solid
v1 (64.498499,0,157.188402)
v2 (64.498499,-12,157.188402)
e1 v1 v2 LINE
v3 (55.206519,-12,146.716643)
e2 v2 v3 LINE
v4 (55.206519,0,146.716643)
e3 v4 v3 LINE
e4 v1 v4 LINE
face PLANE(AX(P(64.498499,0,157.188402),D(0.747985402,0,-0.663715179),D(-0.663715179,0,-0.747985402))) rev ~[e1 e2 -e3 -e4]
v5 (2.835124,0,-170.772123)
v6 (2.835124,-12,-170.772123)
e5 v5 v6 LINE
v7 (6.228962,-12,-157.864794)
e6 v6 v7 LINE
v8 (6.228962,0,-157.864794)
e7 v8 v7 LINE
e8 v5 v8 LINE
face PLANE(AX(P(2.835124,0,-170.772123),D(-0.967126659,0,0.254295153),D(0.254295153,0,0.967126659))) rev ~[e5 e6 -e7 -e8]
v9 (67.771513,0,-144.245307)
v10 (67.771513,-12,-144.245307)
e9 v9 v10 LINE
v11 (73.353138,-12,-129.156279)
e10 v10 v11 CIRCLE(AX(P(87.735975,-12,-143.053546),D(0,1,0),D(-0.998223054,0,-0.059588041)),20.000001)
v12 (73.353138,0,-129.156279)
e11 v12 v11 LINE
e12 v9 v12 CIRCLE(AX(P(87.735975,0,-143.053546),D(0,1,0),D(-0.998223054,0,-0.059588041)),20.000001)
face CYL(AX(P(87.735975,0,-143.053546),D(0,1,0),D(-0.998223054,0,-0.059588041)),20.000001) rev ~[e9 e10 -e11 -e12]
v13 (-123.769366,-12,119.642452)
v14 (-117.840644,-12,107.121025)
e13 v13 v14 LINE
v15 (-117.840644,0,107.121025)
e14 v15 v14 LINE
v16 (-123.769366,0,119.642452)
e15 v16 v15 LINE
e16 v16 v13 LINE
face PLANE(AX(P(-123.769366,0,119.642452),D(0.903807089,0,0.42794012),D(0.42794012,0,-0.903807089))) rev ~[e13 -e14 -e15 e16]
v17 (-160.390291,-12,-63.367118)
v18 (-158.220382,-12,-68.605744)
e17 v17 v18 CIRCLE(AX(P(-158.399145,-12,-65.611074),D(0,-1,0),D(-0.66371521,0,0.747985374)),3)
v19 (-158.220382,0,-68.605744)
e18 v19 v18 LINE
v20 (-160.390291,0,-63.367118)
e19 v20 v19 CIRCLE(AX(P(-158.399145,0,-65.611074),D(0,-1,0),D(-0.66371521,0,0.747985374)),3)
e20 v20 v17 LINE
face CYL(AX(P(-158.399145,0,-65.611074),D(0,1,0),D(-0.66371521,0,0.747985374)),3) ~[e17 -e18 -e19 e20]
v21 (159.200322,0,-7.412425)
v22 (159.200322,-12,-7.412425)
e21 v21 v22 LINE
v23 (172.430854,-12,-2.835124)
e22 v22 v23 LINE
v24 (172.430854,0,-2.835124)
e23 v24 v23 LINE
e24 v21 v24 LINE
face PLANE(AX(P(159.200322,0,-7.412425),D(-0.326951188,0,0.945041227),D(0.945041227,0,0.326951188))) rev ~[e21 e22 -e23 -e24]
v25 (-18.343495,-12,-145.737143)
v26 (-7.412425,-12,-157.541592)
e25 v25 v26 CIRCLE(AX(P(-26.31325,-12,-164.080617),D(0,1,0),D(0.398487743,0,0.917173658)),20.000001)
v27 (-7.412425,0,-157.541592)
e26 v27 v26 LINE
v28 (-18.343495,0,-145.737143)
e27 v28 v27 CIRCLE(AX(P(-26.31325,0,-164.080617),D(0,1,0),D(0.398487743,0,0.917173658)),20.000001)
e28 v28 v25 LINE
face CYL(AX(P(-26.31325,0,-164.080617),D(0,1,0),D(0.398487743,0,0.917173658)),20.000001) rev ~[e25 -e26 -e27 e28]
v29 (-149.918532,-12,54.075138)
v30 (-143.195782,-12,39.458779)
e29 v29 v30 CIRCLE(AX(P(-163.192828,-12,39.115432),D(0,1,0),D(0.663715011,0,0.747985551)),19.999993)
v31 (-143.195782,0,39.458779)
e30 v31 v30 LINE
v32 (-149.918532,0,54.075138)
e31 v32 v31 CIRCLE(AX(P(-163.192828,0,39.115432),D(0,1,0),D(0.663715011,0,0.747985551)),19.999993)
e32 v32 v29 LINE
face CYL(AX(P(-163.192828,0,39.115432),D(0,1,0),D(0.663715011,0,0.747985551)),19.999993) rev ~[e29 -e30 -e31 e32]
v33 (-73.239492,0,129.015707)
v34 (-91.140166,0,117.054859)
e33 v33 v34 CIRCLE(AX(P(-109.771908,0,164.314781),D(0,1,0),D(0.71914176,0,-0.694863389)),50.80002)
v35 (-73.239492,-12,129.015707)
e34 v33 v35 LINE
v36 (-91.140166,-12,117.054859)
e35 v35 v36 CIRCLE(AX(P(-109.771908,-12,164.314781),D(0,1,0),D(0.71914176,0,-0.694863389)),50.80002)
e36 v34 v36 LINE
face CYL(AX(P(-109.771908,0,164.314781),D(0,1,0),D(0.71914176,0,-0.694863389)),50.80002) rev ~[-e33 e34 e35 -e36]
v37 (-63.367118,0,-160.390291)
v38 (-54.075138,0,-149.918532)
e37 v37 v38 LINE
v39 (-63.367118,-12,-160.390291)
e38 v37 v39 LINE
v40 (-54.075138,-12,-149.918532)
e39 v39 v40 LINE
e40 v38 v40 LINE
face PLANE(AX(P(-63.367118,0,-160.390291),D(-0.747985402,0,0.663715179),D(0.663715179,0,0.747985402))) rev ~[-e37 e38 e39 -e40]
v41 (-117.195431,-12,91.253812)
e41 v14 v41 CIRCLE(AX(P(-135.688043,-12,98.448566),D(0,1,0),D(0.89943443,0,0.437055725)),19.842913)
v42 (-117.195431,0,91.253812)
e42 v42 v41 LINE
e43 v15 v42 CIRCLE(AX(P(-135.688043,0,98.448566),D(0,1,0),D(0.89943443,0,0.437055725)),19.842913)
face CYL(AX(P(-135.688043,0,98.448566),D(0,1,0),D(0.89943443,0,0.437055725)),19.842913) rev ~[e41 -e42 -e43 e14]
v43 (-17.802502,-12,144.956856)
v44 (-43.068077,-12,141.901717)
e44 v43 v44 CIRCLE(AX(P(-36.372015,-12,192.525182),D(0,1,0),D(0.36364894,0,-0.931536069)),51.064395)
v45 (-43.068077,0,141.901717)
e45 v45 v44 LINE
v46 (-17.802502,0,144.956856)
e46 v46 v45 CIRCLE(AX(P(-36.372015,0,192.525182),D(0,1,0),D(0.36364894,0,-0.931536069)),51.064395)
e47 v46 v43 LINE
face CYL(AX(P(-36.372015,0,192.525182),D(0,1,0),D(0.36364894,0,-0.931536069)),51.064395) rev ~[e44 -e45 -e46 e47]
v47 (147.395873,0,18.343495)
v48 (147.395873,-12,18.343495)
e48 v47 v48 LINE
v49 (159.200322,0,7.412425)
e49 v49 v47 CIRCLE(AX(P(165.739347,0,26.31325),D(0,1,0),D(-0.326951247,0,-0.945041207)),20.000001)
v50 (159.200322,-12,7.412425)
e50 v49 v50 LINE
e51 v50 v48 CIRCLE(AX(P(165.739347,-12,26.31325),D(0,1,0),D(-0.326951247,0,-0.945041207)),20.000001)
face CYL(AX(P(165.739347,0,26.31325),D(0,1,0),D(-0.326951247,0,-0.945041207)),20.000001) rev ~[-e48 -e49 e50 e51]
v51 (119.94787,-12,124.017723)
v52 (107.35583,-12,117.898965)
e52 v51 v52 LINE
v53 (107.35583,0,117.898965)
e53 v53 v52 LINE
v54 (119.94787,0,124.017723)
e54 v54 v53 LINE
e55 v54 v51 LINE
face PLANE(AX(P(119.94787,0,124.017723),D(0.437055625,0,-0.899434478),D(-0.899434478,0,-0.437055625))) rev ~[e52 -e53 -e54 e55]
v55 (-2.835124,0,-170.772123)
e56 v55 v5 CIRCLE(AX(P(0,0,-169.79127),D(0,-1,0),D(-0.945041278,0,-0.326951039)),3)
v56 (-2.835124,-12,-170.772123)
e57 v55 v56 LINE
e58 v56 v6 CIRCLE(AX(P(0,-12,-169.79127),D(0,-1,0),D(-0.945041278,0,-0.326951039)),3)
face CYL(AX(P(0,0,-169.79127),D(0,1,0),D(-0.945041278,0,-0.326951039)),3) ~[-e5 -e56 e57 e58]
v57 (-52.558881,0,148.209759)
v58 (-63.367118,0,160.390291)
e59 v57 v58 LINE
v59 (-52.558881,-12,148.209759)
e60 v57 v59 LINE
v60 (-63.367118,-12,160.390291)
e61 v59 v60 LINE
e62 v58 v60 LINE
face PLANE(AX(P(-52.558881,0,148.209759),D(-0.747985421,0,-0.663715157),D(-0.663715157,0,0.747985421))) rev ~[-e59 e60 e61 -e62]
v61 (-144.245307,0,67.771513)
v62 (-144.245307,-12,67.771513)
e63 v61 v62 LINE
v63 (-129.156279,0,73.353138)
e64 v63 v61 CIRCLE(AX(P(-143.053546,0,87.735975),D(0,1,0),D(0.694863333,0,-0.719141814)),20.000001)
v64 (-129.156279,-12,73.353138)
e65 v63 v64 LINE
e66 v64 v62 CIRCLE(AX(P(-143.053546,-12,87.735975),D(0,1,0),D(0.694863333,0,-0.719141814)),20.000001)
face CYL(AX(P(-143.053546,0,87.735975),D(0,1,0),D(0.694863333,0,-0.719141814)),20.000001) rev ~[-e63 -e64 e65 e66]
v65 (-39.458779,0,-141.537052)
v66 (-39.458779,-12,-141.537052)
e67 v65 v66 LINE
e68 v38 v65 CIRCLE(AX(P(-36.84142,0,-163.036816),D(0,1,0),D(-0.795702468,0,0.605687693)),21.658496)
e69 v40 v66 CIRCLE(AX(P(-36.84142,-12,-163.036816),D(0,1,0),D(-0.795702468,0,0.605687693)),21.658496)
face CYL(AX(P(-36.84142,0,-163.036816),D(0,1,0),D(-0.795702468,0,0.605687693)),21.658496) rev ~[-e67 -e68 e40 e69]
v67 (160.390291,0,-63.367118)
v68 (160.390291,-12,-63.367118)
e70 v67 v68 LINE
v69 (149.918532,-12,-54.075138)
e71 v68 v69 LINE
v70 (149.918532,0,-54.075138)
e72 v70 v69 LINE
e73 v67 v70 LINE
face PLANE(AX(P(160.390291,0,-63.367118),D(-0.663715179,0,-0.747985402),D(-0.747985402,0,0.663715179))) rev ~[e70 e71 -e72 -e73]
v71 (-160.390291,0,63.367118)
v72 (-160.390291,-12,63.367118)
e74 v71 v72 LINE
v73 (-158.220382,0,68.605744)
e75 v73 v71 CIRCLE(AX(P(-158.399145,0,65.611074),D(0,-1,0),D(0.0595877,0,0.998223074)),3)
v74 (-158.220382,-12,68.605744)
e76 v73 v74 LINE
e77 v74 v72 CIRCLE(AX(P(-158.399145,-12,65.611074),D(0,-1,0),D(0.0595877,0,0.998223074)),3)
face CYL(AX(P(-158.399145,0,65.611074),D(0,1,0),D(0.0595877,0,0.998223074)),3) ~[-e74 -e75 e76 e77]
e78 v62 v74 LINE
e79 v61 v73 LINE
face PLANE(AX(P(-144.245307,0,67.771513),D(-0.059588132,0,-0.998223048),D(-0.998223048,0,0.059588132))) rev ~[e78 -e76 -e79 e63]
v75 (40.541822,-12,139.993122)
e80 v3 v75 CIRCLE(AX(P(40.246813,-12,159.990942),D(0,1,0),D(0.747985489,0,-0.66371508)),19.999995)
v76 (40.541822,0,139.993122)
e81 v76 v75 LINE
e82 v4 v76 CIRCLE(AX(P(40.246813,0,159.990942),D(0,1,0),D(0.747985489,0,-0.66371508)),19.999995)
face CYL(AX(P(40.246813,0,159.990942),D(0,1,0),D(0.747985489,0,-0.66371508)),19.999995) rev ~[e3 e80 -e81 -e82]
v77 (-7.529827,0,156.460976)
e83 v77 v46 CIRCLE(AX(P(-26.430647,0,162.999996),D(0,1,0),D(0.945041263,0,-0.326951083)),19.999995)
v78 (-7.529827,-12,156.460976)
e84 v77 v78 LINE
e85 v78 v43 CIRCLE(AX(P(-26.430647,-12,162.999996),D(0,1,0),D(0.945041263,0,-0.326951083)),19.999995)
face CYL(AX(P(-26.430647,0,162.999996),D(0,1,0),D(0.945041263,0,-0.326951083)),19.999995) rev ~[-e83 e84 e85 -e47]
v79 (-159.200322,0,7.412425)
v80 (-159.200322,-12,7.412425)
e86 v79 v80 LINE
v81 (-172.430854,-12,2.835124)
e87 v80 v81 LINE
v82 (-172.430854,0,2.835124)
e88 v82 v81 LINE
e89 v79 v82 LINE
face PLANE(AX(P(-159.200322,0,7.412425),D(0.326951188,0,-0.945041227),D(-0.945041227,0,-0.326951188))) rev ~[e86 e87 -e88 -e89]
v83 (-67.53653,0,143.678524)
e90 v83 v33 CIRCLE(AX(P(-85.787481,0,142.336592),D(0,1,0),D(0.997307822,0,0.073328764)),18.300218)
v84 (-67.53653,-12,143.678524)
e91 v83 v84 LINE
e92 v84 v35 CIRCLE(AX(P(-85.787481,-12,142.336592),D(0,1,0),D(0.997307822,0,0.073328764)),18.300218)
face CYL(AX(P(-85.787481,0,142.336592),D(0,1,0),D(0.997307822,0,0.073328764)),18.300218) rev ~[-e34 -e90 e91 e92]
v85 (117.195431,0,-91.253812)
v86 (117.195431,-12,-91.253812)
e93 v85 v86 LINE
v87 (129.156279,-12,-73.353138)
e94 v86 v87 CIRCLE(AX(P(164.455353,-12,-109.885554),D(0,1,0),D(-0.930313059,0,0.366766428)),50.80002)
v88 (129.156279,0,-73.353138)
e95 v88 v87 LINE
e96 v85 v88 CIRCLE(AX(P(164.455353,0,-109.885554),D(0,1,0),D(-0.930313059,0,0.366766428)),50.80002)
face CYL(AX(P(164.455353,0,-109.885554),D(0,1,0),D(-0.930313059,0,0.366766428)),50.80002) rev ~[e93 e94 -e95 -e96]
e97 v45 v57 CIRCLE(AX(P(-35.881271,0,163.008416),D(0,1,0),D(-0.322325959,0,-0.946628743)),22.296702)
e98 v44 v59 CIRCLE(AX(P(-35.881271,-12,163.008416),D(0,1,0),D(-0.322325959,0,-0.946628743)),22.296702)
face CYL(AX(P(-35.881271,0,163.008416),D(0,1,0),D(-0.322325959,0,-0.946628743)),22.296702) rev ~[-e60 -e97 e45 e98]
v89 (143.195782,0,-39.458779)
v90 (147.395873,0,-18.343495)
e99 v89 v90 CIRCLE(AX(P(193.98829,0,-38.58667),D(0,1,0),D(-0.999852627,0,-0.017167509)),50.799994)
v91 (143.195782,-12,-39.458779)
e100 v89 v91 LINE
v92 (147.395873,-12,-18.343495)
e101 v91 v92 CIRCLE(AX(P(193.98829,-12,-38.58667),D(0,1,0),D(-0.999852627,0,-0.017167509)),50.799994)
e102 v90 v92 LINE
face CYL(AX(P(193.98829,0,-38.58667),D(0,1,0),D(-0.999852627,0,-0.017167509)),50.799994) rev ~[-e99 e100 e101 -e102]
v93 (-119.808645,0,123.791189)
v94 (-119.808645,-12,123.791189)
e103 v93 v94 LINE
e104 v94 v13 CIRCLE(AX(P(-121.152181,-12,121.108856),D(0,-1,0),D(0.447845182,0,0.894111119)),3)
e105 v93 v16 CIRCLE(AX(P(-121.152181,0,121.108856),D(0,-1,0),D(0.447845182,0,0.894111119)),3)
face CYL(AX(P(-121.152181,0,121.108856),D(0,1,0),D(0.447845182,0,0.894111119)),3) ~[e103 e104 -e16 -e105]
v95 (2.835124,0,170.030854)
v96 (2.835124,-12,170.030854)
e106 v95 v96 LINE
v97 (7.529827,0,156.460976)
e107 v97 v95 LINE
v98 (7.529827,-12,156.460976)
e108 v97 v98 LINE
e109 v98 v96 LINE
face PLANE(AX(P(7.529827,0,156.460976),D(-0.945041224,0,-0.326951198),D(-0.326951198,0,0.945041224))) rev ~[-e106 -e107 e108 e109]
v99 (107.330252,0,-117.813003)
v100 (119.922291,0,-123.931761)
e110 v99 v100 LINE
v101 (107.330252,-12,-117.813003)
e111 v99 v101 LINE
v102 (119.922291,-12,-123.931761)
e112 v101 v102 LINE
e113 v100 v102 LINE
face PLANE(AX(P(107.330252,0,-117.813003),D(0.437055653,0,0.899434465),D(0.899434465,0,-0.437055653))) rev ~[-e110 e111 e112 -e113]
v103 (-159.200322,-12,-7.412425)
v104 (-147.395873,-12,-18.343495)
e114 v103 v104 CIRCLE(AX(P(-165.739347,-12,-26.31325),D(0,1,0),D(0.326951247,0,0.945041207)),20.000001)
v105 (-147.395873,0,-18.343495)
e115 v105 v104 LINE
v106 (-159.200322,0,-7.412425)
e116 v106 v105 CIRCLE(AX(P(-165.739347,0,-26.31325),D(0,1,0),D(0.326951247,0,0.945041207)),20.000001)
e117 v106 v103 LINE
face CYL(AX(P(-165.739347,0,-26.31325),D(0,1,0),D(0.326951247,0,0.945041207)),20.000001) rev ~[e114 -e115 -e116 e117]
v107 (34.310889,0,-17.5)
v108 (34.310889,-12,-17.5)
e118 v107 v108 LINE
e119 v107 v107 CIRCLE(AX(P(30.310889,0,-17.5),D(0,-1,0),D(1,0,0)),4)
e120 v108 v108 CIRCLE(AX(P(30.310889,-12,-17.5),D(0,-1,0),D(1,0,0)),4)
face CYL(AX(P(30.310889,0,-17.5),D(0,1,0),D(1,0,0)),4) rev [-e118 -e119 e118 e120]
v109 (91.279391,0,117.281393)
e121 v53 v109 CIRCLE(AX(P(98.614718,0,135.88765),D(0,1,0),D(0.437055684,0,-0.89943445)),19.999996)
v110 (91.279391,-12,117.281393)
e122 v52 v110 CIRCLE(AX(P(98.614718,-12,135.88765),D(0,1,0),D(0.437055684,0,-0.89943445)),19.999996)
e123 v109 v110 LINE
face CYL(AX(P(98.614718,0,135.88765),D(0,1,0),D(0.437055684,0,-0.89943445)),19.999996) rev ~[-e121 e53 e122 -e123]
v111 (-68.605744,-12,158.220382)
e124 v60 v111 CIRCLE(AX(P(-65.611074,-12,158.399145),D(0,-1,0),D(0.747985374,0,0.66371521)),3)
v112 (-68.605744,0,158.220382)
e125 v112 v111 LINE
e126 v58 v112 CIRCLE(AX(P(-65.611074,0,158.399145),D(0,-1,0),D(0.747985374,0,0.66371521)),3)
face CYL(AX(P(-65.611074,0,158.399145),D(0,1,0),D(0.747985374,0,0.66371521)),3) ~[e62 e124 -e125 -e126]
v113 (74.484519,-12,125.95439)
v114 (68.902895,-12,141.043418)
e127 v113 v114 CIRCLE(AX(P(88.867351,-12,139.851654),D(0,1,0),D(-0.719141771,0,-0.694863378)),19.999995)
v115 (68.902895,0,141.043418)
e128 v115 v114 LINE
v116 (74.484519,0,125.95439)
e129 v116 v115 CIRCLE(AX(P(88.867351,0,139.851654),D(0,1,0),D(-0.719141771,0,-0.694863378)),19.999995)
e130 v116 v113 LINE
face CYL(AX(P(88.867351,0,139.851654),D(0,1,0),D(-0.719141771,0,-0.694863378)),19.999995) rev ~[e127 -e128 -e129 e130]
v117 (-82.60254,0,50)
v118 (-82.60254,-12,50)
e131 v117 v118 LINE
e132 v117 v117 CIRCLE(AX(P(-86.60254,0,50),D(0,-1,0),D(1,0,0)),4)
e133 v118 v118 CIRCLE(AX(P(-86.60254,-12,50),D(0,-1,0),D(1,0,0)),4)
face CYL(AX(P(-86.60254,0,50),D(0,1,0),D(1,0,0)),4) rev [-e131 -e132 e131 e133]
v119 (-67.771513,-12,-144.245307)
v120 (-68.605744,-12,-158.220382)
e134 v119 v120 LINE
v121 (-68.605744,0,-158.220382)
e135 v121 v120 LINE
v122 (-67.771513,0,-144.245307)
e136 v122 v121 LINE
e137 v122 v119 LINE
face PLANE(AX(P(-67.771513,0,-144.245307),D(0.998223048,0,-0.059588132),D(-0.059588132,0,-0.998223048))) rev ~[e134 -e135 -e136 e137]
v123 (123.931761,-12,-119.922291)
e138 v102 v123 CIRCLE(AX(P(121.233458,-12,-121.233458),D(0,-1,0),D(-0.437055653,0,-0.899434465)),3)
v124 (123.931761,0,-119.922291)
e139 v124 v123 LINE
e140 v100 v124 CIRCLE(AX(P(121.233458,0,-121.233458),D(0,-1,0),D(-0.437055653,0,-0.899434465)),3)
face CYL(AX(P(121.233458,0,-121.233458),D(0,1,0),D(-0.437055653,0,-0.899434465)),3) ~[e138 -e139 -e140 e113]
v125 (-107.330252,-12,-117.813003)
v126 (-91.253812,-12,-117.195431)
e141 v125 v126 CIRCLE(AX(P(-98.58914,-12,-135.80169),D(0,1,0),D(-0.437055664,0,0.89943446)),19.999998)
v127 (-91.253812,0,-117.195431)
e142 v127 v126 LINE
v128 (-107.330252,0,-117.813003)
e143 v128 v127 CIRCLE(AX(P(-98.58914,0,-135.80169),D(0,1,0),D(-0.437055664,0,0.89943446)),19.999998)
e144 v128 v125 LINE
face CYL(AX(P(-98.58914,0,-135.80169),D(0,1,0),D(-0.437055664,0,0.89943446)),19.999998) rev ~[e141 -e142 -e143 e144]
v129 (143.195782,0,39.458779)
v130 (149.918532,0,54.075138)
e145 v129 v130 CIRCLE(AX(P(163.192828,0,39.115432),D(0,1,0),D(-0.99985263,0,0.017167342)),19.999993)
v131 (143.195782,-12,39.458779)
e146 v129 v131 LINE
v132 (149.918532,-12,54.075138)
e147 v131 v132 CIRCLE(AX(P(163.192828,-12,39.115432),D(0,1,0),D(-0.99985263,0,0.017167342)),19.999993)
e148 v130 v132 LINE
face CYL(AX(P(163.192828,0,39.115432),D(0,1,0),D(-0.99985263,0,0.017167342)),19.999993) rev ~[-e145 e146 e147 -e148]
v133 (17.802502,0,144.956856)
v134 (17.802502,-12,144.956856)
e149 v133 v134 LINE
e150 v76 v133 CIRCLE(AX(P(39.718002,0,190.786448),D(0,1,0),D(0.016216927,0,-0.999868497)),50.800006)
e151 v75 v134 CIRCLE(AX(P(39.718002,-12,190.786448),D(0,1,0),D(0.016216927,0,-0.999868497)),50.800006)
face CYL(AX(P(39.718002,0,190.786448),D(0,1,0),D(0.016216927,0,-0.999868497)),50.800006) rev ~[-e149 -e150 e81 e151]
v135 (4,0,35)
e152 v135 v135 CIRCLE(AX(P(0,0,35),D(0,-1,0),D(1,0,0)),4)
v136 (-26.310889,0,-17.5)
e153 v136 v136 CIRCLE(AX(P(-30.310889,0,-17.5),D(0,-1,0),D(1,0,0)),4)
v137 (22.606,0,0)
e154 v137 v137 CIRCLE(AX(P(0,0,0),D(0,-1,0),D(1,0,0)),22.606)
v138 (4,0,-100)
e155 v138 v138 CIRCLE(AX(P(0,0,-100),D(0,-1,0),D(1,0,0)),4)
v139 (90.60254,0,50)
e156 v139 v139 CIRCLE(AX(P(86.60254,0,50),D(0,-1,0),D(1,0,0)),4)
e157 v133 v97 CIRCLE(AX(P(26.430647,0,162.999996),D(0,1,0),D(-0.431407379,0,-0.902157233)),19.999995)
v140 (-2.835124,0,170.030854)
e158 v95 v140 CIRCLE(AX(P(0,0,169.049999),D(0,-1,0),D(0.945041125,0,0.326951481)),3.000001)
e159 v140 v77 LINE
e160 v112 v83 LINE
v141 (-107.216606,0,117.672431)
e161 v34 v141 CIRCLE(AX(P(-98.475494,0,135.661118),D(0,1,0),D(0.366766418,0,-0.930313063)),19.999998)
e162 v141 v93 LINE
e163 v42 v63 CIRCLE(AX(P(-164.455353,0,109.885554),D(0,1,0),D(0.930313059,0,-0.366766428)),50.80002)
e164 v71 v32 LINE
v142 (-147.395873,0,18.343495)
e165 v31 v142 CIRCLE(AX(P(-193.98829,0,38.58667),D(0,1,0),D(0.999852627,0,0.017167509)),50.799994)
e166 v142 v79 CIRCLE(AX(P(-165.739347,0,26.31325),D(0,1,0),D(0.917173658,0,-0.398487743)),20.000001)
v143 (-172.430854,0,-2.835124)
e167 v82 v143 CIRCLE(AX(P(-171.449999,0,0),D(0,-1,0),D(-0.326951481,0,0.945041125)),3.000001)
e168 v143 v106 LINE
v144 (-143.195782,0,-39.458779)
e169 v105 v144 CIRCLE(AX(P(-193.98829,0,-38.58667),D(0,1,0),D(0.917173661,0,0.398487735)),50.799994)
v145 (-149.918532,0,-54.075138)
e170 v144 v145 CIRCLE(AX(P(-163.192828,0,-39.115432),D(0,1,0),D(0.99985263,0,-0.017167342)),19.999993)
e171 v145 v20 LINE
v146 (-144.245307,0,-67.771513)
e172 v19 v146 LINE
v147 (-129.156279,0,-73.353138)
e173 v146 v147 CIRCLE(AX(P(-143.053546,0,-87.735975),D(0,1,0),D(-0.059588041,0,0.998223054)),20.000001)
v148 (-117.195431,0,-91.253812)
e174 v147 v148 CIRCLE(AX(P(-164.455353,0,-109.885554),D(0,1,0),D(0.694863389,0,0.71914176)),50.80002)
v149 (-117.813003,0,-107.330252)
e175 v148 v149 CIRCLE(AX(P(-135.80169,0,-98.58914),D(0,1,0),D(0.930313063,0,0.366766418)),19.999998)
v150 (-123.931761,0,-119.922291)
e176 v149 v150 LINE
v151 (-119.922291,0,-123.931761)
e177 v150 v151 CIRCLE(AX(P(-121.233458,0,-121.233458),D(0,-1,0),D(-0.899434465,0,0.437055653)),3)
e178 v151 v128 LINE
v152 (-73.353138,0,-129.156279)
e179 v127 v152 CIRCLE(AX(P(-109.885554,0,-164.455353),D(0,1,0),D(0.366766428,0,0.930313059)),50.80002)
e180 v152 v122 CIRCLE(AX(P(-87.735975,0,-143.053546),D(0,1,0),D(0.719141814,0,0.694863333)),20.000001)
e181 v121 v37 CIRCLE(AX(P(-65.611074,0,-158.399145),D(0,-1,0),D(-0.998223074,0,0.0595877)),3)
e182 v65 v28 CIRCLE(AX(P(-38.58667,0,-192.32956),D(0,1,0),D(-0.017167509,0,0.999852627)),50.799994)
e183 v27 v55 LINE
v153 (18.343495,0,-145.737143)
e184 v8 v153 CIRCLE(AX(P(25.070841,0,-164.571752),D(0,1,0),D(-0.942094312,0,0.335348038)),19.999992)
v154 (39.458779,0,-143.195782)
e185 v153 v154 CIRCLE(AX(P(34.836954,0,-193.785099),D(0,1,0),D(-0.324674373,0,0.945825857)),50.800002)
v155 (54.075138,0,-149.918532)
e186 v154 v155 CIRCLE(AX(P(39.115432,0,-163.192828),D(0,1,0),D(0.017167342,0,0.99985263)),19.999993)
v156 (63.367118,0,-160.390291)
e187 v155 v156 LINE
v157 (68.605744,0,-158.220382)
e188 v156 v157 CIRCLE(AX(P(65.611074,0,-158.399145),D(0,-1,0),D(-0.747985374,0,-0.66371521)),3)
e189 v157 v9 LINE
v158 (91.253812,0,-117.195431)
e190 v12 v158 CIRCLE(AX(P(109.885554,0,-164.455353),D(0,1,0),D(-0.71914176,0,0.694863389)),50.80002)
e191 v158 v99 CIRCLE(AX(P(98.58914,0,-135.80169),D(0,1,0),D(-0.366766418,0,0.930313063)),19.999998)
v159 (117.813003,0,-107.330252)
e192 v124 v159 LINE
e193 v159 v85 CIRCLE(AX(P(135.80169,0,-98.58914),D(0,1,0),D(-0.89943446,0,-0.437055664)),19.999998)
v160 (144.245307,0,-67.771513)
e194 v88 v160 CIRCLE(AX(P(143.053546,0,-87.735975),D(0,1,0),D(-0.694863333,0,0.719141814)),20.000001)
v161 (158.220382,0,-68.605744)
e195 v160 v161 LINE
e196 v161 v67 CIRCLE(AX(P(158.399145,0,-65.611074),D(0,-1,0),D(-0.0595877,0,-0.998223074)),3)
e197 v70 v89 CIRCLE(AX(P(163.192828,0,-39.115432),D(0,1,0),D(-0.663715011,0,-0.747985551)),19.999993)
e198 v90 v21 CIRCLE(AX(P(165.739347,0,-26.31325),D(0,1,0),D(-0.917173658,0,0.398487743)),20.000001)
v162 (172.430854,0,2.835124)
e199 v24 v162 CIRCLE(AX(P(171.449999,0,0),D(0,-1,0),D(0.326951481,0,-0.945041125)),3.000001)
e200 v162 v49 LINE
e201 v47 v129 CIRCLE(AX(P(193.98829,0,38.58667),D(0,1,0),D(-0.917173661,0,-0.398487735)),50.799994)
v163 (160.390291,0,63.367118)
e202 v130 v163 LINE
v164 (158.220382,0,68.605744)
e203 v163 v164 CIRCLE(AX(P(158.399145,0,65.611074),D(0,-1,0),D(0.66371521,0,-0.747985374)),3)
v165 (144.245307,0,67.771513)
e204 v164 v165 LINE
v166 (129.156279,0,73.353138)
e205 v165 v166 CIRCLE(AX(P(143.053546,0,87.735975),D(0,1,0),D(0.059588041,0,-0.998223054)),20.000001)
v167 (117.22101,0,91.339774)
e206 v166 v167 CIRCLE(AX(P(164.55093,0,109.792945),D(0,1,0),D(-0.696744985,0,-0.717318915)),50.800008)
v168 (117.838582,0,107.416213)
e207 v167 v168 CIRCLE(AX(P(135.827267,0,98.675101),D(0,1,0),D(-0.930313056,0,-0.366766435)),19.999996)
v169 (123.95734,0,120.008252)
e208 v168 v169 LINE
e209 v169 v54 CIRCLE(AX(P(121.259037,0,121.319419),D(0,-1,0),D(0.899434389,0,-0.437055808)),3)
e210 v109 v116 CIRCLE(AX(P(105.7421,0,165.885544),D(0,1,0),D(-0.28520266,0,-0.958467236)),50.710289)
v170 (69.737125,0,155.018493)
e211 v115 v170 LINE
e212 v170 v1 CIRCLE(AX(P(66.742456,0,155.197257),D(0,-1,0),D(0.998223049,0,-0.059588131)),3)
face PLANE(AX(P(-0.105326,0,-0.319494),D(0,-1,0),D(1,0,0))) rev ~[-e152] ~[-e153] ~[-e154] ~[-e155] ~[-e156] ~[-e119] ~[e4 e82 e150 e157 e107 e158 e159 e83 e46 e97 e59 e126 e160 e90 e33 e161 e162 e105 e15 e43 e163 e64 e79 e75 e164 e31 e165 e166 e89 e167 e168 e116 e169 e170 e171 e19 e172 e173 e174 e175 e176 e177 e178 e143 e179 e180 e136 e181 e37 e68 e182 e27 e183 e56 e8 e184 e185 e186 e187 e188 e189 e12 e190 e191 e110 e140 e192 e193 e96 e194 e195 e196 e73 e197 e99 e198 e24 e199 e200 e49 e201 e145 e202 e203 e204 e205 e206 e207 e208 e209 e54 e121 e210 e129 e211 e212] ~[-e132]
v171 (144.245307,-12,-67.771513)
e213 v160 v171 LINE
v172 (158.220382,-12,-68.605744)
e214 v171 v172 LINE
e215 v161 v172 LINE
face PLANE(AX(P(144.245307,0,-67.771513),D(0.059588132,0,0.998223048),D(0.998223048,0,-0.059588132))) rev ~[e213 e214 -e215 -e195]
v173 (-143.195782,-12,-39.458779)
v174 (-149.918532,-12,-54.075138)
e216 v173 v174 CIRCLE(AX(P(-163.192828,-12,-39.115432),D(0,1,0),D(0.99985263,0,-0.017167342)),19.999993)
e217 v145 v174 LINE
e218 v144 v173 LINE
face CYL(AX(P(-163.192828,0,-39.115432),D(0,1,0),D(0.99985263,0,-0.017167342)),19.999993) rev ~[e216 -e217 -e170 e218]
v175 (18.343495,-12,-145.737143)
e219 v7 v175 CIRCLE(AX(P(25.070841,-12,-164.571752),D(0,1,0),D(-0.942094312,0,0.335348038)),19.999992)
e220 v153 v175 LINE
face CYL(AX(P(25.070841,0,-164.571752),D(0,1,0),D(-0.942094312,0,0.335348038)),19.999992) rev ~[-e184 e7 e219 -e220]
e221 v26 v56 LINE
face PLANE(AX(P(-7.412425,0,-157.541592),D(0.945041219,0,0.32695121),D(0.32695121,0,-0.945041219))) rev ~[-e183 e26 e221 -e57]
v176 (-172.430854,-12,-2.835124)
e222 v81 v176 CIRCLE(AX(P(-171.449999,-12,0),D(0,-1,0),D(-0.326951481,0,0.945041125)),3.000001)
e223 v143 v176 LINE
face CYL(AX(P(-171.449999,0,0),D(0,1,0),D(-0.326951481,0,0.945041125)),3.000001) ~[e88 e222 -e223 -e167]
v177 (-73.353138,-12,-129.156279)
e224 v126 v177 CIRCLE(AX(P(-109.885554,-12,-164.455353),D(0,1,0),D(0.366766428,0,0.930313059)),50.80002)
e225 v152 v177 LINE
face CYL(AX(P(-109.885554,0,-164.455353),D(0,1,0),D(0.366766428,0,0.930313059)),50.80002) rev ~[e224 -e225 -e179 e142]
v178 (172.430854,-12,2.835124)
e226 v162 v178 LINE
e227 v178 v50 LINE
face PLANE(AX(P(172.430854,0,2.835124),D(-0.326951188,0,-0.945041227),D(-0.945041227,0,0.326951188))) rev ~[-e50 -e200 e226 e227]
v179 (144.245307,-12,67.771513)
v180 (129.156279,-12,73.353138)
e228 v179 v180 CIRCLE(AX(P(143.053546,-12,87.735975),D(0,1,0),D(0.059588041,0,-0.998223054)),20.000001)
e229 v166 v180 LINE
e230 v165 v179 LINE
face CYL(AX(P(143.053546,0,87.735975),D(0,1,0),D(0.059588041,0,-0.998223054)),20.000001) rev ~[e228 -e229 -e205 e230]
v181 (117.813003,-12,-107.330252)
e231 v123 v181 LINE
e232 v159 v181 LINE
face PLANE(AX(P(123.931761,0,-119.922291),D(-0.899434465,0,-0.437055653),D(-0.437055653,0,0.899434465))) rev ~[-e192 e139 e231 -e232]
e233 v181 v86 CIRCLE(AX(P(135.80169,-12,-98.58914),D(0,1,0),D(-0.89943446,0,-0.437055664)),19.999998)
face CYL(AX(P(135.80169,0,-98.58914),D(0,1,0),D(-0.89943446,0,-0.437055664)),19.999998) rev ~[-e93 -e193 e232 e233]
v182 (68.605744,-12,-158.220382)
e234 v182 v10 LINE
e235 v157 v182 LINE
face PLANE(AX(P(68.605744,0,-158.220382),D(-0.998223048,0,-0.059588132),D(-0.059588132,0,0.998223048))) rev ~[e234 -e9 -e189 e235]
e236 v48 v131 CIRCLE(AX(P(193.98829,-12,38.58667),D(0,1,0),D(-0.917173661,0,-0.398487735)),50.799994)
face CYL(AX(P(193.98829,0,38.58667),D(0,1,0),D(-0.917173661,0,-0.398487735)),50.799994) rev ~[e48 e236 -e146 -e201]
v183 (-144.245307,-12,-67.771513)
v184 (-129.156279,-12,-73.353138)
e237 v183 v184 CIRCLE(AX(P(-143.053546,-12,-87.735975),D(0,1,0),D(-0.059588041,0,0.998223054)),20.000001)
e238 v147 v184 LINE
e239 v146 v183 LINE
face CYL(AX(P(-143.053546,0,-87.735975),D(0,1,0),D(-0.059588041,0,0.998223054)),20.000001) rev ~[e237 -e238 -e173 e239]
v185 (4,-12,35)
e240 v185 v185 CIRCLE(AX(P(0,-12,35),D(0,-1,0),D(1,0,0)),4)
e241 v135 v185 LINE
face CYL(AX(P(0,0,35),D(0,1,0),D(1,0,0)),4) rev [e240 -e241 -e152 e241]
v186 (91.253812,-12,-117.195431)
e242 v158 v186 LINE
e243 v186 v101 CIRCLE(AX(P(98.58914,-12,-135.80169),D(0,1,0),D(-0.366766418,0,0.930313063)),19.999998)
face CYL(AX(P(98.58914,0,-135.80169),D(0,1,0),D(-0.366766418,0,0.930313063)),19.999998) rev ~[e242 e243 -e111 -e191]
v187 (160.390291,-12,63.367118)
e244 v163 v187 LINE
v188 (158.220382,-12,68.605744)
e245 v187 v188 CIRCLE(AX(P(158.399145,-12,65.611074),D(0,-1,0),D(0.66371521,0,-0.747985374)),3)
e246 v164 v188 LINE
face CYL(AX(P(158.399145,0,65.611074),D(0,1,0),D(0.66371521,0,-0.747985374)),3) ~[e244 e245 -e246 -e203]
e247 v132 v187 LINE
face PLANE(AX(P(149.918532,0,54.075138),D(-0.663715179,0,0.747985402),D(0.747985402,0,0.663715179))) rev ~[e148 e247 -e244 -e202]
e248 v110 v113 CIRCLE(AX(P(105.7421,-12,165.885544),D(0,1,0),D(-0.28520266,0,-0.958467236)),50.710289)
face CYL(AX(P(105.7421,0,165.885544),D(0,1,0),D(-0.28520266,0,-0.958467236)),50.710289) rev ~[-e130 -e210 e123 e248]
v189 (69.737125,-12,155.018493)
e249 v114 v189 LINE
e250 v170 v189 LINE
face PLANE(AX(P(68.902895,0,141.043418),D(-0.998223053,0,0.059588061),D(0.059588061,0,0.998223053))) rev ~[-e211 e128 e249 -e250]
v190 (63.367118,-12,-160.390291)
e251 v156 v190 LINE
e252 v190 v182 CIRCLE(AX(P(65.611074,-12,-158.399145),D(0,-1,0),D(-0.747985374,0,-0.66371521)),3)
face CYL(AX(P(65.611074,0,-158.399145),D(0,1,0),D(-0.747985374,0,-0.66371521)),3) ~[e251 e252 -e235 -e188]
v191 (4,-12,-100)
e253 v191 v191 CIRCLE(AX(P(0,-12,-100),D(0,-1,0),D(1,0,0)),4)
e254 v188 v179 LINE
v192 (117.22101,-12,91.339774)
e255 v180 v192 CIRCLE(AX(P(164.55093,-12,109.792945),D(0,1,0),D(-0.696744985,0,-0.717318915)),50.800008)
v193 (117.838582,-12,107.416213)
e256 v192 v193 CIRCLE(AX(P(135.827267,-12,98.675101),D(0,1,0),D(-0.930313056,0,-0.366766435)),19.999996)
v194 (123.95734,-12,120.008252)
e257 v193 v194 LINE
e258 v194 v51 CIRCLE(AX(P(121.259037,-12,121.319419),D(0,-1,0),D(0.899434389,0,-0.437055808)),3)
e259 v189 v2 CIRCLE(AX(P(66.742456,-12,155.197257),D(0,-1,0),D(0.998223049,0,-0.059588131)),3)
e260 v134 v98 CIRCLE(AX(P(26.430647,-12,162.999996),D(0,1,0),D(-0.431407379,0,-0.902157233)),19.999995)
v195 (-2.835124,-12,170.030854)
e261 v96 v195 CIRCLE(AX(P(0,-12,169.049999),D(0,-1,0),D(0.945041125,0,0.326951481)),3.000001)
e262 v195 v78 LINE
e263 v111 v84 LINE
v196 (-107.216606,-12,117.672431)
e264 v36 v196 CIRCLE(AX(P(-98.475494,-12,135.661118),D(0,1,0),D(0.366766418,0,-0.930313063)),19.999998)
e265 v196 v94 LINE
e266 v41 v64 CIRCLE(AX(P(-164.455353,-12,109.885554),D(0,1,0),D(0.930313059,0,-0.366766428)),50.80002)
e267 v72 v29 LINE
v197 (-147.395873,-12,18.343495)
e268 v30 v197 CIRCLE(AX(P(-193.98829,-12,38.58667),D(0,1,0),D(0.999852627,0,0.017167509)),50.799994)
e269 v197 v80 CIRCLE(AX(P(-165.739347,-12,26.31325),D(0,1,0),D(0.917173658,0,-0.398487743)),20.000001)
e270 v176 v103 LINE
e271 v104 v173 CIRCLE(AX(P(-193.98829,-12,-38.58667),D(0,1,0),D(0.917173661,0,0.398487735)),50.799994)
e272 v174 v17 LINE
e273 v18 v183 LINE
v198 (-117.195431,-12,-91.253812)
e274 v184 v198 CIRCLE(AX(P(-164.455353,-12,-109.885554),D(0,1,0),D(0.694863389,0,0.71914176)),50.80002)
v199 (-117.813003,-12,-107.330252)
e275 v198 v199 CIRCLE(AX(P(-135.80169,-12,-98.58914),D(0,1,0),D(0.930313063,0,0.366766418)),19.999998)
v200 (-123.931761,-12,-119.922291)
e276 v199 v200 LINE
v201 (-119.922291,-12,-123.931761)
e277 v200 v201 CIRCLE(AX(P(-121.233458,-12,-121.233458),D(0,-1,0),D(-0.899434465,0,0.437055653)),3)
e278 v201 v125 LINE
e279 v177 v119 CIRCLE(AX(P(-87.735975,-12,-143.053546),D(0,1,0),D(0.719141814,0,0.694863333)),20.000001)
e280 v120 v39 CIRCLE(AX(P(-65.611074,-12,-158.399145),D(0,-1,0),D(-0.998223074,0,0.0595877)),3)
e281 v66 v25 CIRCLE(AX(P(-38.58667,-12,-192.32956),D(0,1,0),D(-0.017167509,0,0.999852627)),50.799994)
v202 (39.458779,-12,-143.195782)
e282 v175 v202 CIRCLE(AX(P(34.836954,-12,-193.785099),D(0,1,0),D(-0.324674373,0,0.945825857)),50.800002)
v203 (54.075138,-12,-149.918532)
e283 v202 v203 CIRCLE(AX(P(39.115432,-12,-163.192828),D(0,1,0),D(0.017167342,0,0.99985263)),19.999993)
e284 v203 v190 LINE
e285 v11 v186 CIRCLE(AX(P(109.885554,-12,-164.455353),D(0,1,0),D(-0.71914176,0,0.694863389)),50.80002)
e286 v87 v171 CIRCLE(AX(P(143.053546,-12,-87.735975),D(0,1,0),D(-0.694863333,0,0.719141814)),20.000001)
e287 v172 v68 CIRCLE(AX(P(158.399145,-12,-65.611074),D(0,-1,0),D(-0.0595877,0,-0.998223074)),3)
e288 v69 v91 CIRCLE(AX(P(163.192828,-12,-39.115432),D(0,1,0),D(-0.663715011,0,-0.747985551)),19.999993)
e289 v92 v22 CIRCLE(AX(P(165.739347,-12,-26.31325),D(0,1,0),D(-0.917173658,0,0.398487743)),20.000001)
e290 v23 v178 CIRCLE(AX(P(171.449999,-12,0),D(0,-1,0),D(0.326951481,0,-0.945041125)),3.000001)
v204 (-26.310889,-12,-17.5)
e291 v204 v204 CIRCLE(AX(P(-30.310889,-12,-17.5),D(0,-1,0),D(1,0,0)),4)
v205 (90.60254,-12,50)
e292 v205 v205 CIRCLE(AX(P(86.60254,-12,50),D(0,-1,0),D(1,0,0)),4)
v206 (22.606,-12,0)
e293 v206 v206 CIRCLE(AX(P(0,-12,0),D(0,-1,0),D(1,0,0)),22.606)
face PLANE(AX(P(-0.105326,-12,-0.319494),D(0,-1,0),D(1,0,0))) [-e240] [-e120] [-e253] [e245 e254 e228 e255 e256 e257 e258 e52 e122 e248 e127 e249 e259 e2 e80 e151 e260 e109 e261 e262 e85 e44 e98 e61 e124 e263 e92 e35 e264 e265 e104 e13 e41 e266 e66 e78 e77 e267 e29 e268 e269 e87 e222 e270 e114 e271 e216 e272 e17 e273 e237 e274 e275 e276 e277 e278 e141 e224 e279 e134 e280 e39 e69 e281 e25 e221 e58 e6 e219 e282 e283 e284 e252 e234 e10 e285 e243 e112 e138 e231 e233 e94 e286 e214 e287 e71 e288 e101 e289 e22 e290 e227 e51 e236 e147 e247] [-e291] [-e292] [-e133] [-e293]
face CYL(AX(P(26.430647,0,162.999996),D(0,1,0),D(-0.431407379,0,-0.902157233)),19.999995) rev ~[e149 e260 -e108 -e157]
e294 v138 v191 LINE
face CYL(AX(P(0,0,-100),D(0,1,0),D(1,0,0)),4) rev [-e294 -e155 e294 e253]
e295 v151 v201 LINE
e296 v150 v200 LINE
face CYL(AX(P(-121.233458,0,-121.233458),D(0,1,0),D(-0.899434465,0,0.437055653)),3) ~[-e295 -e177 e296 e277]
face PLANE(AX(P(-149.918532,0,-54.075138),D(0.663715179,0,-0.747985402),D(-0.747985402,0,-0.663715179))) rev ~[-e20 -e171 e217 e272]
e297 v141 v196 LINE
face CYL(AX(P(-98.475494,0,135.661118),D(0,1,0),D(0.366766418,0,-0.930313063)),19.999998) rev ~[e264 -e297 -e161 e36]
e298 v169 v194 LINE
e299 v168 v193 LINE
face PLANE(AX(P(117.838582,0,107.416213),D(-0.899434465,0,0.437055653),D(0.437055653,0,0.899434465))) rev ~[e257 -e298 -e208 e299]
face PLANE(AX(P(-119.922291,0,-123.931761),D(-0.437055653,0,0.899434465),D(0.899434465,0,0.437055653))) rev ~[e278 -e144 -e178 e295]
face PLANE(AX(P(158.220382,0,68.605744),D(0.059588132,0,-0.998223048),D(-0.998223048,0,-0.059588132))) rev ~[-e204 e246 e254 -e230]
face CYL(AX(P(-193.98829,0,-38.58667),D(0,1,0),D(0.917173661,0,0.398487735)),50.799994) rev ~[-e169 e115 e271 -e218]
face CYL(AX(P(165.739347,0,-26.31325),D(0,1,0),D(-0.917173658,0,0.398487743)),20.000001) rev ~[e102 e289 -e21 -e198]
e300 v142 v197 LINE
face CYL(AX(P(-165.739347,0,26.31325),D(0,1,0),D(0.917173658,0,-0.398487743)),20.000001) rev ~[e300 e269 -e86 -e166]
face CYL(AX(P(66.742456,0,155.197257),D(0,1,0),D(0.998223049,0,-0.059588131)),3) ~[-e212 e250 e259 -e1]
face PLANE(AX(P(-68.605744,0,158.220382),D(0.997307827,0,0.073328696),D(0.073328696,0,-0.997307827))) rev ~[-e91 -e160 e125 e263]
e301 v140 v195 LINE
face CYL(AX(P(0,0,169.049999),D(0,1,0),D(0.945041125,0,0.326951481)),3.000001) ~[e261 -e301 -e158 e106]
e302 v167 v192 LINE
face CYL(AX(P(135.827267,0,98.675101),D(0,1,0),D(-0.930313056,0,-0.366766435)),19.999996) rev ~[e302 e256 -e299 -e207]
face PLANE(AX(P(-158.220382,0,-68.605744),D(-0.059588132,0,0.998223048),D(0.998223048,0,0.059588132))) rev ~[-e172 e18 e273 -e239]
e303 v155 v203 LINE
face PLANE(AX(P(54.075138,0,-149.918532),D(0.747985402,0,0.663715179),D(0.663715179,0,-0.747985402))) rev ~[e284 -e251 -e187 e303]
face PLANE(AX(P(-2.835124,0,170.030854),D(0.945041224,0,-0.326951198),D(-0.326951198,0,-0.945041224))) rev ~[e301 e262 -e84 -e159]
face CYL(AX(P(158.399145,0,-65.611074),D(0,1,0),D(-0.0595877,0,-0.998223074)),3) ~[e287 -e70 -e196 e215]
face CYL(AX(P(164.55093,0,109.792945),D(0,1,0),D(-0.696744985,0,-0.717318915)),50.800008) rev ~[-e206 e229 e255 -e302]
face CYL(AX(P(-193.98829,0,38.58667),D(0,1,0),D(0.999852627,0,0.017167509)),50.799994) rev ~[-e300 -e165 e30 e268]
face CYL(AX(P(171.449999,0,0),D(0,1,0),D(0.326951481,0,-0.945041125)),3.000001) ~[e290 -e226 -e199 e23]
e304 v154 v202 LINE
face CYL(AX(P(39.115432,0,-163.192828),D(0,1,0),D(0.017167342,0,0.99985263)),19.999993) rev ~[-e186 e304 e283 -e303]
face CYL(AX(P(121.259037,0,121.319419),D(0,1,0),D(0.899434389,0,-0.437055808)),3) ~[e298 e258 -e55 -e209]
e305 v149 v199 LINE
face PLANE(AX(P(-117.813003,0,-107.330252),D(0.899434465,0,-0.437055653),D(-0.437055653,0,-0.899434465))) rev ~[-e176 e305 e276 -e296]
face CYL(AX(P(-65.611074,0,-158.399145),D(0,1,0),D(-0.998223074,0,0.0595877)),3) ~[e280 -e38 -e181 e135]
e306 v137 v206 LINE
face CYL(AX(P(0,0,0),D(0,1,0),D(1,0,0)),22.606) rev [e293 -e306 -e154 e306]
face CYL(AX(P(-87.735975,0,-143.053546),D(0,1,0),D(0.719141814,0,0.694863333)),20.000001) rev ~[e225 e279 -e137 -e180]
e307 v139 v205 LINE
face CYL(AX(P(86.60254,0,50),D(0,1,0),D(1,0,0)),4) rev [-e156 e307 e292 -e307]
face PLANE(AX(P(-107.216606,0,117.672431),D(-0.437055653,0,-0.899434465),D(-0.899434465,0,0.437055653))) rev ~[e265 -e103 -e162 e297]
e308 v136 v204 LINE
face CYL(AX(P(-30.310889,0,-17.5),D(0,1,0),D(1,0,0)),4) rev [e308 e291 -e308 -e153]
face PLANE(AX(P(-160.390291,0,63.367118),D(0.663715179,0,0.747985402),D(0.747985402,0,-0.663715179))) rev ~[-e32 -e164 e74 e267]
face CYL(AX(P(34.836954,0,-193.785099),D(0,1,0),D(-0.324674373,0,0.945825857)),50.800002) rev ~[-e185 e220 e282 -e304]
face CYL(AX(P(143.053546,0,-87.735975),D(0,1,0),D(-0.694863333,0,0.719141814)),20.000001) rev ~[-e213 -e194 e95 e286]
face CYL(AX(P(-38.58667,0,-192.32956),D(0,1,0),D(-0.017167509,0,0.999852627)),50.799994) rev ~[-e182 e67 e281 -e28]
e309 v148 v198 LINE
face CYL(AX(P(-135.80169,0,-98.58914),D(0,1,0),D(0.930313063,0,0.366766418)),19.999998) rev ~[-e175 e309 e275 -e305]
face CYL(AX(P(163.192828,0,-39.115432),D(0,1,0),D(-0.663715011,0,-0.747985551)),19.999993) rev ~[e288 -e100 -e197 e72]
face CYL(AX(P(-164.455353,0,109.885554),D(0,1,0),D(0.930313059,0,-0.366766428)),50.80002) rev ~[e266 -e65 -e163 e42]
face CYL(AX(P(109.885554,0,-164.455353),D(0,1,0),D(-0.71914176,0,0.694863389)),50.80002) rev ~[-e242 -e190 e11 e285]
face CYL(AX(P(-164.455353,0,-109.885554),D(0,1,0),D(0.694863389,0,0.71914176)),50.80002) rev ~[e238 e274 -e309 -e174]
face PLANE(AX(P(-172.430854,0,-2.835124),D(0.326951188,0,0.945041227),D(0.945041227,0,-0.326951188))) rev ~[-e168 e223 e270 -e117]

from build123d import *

# Parameters (mm, degrees)
F0_R     = 4
F0_R_2   = 22.606
F1_DEPTH = 12


with BuildPart() as f1:
    # F0 (on Front) → F1 (new body)
    with BuildSketch(Plane.XZ):
        with BuildLine():
            ThreePointArc((17.802502, 144.956856), (11.512632, 149.678862), (7.529827, 156.460976))
            Line((7.529827, 156.460976), (2.835124, 170.030854))
            ThreePointArc((2.835124, 170.030854), (0, 172.05), (-2.835124, 170.030854))
            Line((-2.835124, 170.030854), (-7.529827, 156.460976))
            ThreePointArc((-7.529827, 156.460976), (-11.512632, 149.678862), (-17.802502, 144.956856))
            ThreePointArc((-17.802502, 144.956856), (-30.241911, 141.830071), (-43.068077, 141.901717))
            ThreePointArc((-43.068077, 141.901717), (-48.22329, 144.439154), (-52.558881, 148.209759))
            Line((-52.558881, 148.209759), (-63.367118, 160.390291))
            ThreePointArc((-63.367118, 160.390291), (-66.759125, 161.170784), (-68.605744, 158.220382))
            Line((-68.605744, 158.220382), (-67.53653, 143.678524))
            ThreePointArc((-67.53653, 143.678524), (-68.731889, 135.702982), (-73.239492, 129.015707))
            ThreePointArc((-73.239492, 129.015707), (-81.548929, 122.076108), (-91.140166, 117.054859))
            ThreePointArc((-91.140166, 117.054859), (-99.243222, 115.675861), (-107.216606, 117.672431))
            Line((-107.216606, 117.672431), (-119.808645, 123.791189))
            ThreePointArc((-119.808645, 123.791189), (-123.3221, 123.180437), (-123.769366, 119.642452))
            Line((-123.769366, 119.642452), (-117.840644, 107.121025))
            ThreePointArc((-117.840644, 107.121025), (-115.861515, 99.254778), (-117.195431, 91.253812))
            ThreePointArc((-117.195431, 91.253812), (-122.21668, 81.662575), (-129.156279, 73.353138))
            ThreePointArc((-129.156279, 73.353138), (-136.114807, 68.978205), (-144.245307, 67.771513))
            Line((-144.245307, 67.771513), (-158.220382, 68.605744))
            ThreePointArc((-158.220382, 68.605744), (-161.170784, 66.759125), (-160.390291, 63.367118))
            Line((-160.390291, 63.367118), (-149.918532, 54.075138))
            ThreePointArc((-149.918532, 54.075138), (-145.022659, 47.472746), (-143.195782, 39.458779))
            ThreePointArc((-143.195782, 39.458779), (-144.164403, 28.676083), (-147.395873, 18.343495))
            ThreePointArc((-147.395873, 18.343495), (-152.1505, 11.638671), (-159.200322, 7.412425))
            Line((-159.200322, 7.412425), (-172.430854, 2.835124))
            ThreePointArc((-172.430854, 2.835124), (-174.45, 0), (-172.430854, -2.835124))
            Line((-172.430854, -2.835124), (-159.200322, -7.412425))
            ThreePointArc((-159.200322, -7.412425), (-152.1505, -11.638671), (-147.395873, -18.343495))
            ThreePointArc((-147.395873, -18.343495), (-144.164403, -28.676083), (-143.195782, -39.458779))
            ThreePointArc((-143.195782, -39.458779), (-145.022659, -47.472746), (-149.918532, -54.075138))
            Line((-149.918532, -54.075138), (-160.390291, -63.367118))
            ThreePointArc((-160.390291, -63.367118), (-161.170784, -66.759125), (-158.220382, -68.605744))
            Line((-158.220382, -68.605744), (-144.245307, -67.771513))
            ThreePointArc((-144.245307, -67.771513), (-136.114807, -68.978205), (-129.156279, -73.353138))
            ThreePointArc((-129.156279, -73.353138), (-122.21668, -81.662575), (-117.195431, -91.253812))
            ThreePointArc((-117.195431, -91.253812), (-115.816433, -99.356868), (-117.813003, -107.330252))
            Line((-117.813003, -107.330252), (-123.931761, -119.922291))
            ThreePointArc((-123.931761, -119.922291), (-123.354778, -123.354778), (-119.922291, -123.931761))
            Line((-119.922291, -123.931761), (-107.330252, -117.813003))
            ThreePointArc((-107.330252, -117.813003), (-99.356868, -115.816433), (-91.253812, -117.195431))
            ThreePointArc((-91.253812, -117.195431), (-81.662575, -122.21668), (-73.353138, -129.156279))
            ThreePointArc((-73.353138, -129.156279), (-68.978205, -136.114807), (-67.771513, -144.245307))
            Line((-67.771513, -144.245307), (-68.605744, -158.220382))
            ThreePointArc((-68.605744, -158.220382), (-66.759125, -161.170784), (-63.367118, -160.390291))
            Line((-63.367118, -160.390291), (-54.075138, -149.918532))
            ThreePointArc((-54.075138, -149.918532), (-47.615399, -144.248208), (-39.458779, -141.537052))
            ThreePointArc((-39.458779, -141.537052), (-28.676083, -142.505673), (-18.343495, -145.737143))
            ThreePointArc((-18.343495, -145.737143), (-11.638671, -150.49177), (-7.412425, -157.541592))
            Line((-7.412425, -157.541592), (-2.835124, -170.772123))
            ThreePointArc((-2.835124, -170.772123), (0, -172.79127), (2.835124, -170.772123))
            Line((2.835124, -170.772123), (6.228962, -157.864794))
            ThreePointArc((6.228962, -157.864794), (10.92106, -150.437277), (18.343495, -145.737143))
            ThreePointArc((18.343495, -145.737143), (28.766653, -143.349083), (39.458779, -143.195782))
            ThreePointArc((39.458779, -143.195782), (47.472746, -145.022659), (54.075138, -149.918532))
            Line((54.075138, -149.918532), (63.367118, -160.390291))
            ThreePointArc((63.367118, -160.390291), (66.759125, -161.170784), (68.605744, -158.220382))
            Line((68.605744, -158.220382), (67.771513, -144.245307))
            ThreePointArc((67.771513, -144.245307), (68.978205, -136.114807), (73.353138, -129.156279))
            ThreePointArc((73.353138, -129.156279), (81.662575, -122.21668), (91.253812, -117.195431))
            ThreePointArc((91.253812, -117.195431), (99.356868, -115.816433), (107.330252, -117.813003))
            Line((107.330252, -117.813003), (119.922291, -123.931761))
            ThreePointArc((119.922291, -123.931761), (123.354778, -123.354778), (123.931761, -119.922291))
            Line((123.931761, -119.922291), (117.813003, -107.330252))
            ThreePointArc((117.813003, -107.330252), (115.816433, -99.356868), (117.195431, -91.253812))
            ThreePointArc((117.195431, -91.253812), (122.21668, -81.662575), (129.156279, -73.353138))
            ThreePointArc((129.156279, -73.353138), (136.114807, -68.978205), (144.245307, -67.771513))
            Line((144.245307, -67.771513), (158.220382, -68.605744))
            ThreePointArc((158.220382, -68.605744), (161.170784, -66.759125), (160.390291, -63.367118))
            Line((160.390291, -63.367118), (149.918532, -54.075138))
            ThreePointArc((149.918532, -54.075138), (145.022659, -47.472746), (143.195782, -39.458779))
            ThreePointArc((143.195782, -39.458779), (144.164403, -28.676083), (147.395873, -18.343495))
            ThreePointArc((147.395873, -18.343495), (152.1505, -11.638671), (159.200322, -7.412425))
            Line((159.200322, -7.412425), (172.430854, -2.835124))
            ThreePointArc((172.430854, -2.835124), (174.45, 0), (172.430854, 2.835124))
            Line((172.430854, 2.835124), (159.200322, 7.412425))
            ThreePointArc((159.200322, 7.412425), (152.1505, 11.638671), (147.395873, 18.343495))
            ThreePointArc((147.395873, 18.343495), (144.164403, 28.676083), (143.195782, 39.458779))
            ThreePointArc((143.195782, 39.458779), (145.022659, 47.472746), (149.918532, 54.075138))
            Line((149.918532, 54.075138), (160.390291, 63.367118))
            ThreePointArc((160.390291, 63.367118), (161.170784, 66.759125), (158.220382, 68.605744))
            Line((158.220382, 68.605744), (144.245307, 67.771513))
            ThreePointArc((144.245307, 67.771513), (136.114807, 68.978205), (129.156279, 73.353138))
            ThreePointArc((129.156279, 73.353138), (122.222235, 81.705182), (117.22101, 91.339774))
            ThreePointArc((117.22101, 91.339774), (115.842012, 99.442829), (117.838582, 107.416213))
            Line((117.838582, 107.416213), (123.95734, 120.008252))
            ThreePointArc((123.95734, 120.008252), (123.380357, 123.44074), (119.94787, 124.017723))
            Line((119.94787, 124.017723), (107.35583, 117.898965))
            ThreePointArc((107.35583, 117.898965), (99.382446, 115.902395), (91.279391, 117.281393))
            ThreePointArc((91.279391, 117.281393), (82.47428, 120.828447), (74.484519, 125.95439))
            ThreePointArc((74.484519, 125.95439), (70.109586, 132.912918), (68.902895, 141.043418))
            Line((68.902895, 141.043418), (69.737125, 155.018493))
            ThreePointArc((69.737125, 155.018493), (67.890506, 157.968896), (64.498499, 157.188402))
            Line((64.498499, 157.188402), (55.206519, 146.716643))
            ThreePointArc((55.206519, 146.716643), (48.58216, 141.810683), (40.541822, 139.993122))
            ThreePointArc((40.541822, 139.993122), (28.884055, 141.155145), (17.802502, 144.956856))
        make_face()
        with Locations((-30.310889, -17.5)):
            Circle(F0_R, mode=Mode.SUBTRACT)
        with Locations((0, -100)):
            Circle(F0_R, mode=Mode.SUBTRACT)
        with Locations((30.310889, -17.5)):
            Circle(F0_R, mode=Mode.SUBTRACT)
        with Locations((-86.60254, 50)):
            Circle(F0_R, mode=Mode.SUBTRACT)
        Circle(F0_R_2, mode=Mode.SUBTRACT)
        with Locations((0, 35)):
            Circle(F0_R, mode=Mode.SUBTRACT)
        with Locations((86.60254, 50)):
            Circle(F0_R, mode=Mode.SUBTRACT)
    extrude(amount=F1_DEPTH)


solid = f1.part
